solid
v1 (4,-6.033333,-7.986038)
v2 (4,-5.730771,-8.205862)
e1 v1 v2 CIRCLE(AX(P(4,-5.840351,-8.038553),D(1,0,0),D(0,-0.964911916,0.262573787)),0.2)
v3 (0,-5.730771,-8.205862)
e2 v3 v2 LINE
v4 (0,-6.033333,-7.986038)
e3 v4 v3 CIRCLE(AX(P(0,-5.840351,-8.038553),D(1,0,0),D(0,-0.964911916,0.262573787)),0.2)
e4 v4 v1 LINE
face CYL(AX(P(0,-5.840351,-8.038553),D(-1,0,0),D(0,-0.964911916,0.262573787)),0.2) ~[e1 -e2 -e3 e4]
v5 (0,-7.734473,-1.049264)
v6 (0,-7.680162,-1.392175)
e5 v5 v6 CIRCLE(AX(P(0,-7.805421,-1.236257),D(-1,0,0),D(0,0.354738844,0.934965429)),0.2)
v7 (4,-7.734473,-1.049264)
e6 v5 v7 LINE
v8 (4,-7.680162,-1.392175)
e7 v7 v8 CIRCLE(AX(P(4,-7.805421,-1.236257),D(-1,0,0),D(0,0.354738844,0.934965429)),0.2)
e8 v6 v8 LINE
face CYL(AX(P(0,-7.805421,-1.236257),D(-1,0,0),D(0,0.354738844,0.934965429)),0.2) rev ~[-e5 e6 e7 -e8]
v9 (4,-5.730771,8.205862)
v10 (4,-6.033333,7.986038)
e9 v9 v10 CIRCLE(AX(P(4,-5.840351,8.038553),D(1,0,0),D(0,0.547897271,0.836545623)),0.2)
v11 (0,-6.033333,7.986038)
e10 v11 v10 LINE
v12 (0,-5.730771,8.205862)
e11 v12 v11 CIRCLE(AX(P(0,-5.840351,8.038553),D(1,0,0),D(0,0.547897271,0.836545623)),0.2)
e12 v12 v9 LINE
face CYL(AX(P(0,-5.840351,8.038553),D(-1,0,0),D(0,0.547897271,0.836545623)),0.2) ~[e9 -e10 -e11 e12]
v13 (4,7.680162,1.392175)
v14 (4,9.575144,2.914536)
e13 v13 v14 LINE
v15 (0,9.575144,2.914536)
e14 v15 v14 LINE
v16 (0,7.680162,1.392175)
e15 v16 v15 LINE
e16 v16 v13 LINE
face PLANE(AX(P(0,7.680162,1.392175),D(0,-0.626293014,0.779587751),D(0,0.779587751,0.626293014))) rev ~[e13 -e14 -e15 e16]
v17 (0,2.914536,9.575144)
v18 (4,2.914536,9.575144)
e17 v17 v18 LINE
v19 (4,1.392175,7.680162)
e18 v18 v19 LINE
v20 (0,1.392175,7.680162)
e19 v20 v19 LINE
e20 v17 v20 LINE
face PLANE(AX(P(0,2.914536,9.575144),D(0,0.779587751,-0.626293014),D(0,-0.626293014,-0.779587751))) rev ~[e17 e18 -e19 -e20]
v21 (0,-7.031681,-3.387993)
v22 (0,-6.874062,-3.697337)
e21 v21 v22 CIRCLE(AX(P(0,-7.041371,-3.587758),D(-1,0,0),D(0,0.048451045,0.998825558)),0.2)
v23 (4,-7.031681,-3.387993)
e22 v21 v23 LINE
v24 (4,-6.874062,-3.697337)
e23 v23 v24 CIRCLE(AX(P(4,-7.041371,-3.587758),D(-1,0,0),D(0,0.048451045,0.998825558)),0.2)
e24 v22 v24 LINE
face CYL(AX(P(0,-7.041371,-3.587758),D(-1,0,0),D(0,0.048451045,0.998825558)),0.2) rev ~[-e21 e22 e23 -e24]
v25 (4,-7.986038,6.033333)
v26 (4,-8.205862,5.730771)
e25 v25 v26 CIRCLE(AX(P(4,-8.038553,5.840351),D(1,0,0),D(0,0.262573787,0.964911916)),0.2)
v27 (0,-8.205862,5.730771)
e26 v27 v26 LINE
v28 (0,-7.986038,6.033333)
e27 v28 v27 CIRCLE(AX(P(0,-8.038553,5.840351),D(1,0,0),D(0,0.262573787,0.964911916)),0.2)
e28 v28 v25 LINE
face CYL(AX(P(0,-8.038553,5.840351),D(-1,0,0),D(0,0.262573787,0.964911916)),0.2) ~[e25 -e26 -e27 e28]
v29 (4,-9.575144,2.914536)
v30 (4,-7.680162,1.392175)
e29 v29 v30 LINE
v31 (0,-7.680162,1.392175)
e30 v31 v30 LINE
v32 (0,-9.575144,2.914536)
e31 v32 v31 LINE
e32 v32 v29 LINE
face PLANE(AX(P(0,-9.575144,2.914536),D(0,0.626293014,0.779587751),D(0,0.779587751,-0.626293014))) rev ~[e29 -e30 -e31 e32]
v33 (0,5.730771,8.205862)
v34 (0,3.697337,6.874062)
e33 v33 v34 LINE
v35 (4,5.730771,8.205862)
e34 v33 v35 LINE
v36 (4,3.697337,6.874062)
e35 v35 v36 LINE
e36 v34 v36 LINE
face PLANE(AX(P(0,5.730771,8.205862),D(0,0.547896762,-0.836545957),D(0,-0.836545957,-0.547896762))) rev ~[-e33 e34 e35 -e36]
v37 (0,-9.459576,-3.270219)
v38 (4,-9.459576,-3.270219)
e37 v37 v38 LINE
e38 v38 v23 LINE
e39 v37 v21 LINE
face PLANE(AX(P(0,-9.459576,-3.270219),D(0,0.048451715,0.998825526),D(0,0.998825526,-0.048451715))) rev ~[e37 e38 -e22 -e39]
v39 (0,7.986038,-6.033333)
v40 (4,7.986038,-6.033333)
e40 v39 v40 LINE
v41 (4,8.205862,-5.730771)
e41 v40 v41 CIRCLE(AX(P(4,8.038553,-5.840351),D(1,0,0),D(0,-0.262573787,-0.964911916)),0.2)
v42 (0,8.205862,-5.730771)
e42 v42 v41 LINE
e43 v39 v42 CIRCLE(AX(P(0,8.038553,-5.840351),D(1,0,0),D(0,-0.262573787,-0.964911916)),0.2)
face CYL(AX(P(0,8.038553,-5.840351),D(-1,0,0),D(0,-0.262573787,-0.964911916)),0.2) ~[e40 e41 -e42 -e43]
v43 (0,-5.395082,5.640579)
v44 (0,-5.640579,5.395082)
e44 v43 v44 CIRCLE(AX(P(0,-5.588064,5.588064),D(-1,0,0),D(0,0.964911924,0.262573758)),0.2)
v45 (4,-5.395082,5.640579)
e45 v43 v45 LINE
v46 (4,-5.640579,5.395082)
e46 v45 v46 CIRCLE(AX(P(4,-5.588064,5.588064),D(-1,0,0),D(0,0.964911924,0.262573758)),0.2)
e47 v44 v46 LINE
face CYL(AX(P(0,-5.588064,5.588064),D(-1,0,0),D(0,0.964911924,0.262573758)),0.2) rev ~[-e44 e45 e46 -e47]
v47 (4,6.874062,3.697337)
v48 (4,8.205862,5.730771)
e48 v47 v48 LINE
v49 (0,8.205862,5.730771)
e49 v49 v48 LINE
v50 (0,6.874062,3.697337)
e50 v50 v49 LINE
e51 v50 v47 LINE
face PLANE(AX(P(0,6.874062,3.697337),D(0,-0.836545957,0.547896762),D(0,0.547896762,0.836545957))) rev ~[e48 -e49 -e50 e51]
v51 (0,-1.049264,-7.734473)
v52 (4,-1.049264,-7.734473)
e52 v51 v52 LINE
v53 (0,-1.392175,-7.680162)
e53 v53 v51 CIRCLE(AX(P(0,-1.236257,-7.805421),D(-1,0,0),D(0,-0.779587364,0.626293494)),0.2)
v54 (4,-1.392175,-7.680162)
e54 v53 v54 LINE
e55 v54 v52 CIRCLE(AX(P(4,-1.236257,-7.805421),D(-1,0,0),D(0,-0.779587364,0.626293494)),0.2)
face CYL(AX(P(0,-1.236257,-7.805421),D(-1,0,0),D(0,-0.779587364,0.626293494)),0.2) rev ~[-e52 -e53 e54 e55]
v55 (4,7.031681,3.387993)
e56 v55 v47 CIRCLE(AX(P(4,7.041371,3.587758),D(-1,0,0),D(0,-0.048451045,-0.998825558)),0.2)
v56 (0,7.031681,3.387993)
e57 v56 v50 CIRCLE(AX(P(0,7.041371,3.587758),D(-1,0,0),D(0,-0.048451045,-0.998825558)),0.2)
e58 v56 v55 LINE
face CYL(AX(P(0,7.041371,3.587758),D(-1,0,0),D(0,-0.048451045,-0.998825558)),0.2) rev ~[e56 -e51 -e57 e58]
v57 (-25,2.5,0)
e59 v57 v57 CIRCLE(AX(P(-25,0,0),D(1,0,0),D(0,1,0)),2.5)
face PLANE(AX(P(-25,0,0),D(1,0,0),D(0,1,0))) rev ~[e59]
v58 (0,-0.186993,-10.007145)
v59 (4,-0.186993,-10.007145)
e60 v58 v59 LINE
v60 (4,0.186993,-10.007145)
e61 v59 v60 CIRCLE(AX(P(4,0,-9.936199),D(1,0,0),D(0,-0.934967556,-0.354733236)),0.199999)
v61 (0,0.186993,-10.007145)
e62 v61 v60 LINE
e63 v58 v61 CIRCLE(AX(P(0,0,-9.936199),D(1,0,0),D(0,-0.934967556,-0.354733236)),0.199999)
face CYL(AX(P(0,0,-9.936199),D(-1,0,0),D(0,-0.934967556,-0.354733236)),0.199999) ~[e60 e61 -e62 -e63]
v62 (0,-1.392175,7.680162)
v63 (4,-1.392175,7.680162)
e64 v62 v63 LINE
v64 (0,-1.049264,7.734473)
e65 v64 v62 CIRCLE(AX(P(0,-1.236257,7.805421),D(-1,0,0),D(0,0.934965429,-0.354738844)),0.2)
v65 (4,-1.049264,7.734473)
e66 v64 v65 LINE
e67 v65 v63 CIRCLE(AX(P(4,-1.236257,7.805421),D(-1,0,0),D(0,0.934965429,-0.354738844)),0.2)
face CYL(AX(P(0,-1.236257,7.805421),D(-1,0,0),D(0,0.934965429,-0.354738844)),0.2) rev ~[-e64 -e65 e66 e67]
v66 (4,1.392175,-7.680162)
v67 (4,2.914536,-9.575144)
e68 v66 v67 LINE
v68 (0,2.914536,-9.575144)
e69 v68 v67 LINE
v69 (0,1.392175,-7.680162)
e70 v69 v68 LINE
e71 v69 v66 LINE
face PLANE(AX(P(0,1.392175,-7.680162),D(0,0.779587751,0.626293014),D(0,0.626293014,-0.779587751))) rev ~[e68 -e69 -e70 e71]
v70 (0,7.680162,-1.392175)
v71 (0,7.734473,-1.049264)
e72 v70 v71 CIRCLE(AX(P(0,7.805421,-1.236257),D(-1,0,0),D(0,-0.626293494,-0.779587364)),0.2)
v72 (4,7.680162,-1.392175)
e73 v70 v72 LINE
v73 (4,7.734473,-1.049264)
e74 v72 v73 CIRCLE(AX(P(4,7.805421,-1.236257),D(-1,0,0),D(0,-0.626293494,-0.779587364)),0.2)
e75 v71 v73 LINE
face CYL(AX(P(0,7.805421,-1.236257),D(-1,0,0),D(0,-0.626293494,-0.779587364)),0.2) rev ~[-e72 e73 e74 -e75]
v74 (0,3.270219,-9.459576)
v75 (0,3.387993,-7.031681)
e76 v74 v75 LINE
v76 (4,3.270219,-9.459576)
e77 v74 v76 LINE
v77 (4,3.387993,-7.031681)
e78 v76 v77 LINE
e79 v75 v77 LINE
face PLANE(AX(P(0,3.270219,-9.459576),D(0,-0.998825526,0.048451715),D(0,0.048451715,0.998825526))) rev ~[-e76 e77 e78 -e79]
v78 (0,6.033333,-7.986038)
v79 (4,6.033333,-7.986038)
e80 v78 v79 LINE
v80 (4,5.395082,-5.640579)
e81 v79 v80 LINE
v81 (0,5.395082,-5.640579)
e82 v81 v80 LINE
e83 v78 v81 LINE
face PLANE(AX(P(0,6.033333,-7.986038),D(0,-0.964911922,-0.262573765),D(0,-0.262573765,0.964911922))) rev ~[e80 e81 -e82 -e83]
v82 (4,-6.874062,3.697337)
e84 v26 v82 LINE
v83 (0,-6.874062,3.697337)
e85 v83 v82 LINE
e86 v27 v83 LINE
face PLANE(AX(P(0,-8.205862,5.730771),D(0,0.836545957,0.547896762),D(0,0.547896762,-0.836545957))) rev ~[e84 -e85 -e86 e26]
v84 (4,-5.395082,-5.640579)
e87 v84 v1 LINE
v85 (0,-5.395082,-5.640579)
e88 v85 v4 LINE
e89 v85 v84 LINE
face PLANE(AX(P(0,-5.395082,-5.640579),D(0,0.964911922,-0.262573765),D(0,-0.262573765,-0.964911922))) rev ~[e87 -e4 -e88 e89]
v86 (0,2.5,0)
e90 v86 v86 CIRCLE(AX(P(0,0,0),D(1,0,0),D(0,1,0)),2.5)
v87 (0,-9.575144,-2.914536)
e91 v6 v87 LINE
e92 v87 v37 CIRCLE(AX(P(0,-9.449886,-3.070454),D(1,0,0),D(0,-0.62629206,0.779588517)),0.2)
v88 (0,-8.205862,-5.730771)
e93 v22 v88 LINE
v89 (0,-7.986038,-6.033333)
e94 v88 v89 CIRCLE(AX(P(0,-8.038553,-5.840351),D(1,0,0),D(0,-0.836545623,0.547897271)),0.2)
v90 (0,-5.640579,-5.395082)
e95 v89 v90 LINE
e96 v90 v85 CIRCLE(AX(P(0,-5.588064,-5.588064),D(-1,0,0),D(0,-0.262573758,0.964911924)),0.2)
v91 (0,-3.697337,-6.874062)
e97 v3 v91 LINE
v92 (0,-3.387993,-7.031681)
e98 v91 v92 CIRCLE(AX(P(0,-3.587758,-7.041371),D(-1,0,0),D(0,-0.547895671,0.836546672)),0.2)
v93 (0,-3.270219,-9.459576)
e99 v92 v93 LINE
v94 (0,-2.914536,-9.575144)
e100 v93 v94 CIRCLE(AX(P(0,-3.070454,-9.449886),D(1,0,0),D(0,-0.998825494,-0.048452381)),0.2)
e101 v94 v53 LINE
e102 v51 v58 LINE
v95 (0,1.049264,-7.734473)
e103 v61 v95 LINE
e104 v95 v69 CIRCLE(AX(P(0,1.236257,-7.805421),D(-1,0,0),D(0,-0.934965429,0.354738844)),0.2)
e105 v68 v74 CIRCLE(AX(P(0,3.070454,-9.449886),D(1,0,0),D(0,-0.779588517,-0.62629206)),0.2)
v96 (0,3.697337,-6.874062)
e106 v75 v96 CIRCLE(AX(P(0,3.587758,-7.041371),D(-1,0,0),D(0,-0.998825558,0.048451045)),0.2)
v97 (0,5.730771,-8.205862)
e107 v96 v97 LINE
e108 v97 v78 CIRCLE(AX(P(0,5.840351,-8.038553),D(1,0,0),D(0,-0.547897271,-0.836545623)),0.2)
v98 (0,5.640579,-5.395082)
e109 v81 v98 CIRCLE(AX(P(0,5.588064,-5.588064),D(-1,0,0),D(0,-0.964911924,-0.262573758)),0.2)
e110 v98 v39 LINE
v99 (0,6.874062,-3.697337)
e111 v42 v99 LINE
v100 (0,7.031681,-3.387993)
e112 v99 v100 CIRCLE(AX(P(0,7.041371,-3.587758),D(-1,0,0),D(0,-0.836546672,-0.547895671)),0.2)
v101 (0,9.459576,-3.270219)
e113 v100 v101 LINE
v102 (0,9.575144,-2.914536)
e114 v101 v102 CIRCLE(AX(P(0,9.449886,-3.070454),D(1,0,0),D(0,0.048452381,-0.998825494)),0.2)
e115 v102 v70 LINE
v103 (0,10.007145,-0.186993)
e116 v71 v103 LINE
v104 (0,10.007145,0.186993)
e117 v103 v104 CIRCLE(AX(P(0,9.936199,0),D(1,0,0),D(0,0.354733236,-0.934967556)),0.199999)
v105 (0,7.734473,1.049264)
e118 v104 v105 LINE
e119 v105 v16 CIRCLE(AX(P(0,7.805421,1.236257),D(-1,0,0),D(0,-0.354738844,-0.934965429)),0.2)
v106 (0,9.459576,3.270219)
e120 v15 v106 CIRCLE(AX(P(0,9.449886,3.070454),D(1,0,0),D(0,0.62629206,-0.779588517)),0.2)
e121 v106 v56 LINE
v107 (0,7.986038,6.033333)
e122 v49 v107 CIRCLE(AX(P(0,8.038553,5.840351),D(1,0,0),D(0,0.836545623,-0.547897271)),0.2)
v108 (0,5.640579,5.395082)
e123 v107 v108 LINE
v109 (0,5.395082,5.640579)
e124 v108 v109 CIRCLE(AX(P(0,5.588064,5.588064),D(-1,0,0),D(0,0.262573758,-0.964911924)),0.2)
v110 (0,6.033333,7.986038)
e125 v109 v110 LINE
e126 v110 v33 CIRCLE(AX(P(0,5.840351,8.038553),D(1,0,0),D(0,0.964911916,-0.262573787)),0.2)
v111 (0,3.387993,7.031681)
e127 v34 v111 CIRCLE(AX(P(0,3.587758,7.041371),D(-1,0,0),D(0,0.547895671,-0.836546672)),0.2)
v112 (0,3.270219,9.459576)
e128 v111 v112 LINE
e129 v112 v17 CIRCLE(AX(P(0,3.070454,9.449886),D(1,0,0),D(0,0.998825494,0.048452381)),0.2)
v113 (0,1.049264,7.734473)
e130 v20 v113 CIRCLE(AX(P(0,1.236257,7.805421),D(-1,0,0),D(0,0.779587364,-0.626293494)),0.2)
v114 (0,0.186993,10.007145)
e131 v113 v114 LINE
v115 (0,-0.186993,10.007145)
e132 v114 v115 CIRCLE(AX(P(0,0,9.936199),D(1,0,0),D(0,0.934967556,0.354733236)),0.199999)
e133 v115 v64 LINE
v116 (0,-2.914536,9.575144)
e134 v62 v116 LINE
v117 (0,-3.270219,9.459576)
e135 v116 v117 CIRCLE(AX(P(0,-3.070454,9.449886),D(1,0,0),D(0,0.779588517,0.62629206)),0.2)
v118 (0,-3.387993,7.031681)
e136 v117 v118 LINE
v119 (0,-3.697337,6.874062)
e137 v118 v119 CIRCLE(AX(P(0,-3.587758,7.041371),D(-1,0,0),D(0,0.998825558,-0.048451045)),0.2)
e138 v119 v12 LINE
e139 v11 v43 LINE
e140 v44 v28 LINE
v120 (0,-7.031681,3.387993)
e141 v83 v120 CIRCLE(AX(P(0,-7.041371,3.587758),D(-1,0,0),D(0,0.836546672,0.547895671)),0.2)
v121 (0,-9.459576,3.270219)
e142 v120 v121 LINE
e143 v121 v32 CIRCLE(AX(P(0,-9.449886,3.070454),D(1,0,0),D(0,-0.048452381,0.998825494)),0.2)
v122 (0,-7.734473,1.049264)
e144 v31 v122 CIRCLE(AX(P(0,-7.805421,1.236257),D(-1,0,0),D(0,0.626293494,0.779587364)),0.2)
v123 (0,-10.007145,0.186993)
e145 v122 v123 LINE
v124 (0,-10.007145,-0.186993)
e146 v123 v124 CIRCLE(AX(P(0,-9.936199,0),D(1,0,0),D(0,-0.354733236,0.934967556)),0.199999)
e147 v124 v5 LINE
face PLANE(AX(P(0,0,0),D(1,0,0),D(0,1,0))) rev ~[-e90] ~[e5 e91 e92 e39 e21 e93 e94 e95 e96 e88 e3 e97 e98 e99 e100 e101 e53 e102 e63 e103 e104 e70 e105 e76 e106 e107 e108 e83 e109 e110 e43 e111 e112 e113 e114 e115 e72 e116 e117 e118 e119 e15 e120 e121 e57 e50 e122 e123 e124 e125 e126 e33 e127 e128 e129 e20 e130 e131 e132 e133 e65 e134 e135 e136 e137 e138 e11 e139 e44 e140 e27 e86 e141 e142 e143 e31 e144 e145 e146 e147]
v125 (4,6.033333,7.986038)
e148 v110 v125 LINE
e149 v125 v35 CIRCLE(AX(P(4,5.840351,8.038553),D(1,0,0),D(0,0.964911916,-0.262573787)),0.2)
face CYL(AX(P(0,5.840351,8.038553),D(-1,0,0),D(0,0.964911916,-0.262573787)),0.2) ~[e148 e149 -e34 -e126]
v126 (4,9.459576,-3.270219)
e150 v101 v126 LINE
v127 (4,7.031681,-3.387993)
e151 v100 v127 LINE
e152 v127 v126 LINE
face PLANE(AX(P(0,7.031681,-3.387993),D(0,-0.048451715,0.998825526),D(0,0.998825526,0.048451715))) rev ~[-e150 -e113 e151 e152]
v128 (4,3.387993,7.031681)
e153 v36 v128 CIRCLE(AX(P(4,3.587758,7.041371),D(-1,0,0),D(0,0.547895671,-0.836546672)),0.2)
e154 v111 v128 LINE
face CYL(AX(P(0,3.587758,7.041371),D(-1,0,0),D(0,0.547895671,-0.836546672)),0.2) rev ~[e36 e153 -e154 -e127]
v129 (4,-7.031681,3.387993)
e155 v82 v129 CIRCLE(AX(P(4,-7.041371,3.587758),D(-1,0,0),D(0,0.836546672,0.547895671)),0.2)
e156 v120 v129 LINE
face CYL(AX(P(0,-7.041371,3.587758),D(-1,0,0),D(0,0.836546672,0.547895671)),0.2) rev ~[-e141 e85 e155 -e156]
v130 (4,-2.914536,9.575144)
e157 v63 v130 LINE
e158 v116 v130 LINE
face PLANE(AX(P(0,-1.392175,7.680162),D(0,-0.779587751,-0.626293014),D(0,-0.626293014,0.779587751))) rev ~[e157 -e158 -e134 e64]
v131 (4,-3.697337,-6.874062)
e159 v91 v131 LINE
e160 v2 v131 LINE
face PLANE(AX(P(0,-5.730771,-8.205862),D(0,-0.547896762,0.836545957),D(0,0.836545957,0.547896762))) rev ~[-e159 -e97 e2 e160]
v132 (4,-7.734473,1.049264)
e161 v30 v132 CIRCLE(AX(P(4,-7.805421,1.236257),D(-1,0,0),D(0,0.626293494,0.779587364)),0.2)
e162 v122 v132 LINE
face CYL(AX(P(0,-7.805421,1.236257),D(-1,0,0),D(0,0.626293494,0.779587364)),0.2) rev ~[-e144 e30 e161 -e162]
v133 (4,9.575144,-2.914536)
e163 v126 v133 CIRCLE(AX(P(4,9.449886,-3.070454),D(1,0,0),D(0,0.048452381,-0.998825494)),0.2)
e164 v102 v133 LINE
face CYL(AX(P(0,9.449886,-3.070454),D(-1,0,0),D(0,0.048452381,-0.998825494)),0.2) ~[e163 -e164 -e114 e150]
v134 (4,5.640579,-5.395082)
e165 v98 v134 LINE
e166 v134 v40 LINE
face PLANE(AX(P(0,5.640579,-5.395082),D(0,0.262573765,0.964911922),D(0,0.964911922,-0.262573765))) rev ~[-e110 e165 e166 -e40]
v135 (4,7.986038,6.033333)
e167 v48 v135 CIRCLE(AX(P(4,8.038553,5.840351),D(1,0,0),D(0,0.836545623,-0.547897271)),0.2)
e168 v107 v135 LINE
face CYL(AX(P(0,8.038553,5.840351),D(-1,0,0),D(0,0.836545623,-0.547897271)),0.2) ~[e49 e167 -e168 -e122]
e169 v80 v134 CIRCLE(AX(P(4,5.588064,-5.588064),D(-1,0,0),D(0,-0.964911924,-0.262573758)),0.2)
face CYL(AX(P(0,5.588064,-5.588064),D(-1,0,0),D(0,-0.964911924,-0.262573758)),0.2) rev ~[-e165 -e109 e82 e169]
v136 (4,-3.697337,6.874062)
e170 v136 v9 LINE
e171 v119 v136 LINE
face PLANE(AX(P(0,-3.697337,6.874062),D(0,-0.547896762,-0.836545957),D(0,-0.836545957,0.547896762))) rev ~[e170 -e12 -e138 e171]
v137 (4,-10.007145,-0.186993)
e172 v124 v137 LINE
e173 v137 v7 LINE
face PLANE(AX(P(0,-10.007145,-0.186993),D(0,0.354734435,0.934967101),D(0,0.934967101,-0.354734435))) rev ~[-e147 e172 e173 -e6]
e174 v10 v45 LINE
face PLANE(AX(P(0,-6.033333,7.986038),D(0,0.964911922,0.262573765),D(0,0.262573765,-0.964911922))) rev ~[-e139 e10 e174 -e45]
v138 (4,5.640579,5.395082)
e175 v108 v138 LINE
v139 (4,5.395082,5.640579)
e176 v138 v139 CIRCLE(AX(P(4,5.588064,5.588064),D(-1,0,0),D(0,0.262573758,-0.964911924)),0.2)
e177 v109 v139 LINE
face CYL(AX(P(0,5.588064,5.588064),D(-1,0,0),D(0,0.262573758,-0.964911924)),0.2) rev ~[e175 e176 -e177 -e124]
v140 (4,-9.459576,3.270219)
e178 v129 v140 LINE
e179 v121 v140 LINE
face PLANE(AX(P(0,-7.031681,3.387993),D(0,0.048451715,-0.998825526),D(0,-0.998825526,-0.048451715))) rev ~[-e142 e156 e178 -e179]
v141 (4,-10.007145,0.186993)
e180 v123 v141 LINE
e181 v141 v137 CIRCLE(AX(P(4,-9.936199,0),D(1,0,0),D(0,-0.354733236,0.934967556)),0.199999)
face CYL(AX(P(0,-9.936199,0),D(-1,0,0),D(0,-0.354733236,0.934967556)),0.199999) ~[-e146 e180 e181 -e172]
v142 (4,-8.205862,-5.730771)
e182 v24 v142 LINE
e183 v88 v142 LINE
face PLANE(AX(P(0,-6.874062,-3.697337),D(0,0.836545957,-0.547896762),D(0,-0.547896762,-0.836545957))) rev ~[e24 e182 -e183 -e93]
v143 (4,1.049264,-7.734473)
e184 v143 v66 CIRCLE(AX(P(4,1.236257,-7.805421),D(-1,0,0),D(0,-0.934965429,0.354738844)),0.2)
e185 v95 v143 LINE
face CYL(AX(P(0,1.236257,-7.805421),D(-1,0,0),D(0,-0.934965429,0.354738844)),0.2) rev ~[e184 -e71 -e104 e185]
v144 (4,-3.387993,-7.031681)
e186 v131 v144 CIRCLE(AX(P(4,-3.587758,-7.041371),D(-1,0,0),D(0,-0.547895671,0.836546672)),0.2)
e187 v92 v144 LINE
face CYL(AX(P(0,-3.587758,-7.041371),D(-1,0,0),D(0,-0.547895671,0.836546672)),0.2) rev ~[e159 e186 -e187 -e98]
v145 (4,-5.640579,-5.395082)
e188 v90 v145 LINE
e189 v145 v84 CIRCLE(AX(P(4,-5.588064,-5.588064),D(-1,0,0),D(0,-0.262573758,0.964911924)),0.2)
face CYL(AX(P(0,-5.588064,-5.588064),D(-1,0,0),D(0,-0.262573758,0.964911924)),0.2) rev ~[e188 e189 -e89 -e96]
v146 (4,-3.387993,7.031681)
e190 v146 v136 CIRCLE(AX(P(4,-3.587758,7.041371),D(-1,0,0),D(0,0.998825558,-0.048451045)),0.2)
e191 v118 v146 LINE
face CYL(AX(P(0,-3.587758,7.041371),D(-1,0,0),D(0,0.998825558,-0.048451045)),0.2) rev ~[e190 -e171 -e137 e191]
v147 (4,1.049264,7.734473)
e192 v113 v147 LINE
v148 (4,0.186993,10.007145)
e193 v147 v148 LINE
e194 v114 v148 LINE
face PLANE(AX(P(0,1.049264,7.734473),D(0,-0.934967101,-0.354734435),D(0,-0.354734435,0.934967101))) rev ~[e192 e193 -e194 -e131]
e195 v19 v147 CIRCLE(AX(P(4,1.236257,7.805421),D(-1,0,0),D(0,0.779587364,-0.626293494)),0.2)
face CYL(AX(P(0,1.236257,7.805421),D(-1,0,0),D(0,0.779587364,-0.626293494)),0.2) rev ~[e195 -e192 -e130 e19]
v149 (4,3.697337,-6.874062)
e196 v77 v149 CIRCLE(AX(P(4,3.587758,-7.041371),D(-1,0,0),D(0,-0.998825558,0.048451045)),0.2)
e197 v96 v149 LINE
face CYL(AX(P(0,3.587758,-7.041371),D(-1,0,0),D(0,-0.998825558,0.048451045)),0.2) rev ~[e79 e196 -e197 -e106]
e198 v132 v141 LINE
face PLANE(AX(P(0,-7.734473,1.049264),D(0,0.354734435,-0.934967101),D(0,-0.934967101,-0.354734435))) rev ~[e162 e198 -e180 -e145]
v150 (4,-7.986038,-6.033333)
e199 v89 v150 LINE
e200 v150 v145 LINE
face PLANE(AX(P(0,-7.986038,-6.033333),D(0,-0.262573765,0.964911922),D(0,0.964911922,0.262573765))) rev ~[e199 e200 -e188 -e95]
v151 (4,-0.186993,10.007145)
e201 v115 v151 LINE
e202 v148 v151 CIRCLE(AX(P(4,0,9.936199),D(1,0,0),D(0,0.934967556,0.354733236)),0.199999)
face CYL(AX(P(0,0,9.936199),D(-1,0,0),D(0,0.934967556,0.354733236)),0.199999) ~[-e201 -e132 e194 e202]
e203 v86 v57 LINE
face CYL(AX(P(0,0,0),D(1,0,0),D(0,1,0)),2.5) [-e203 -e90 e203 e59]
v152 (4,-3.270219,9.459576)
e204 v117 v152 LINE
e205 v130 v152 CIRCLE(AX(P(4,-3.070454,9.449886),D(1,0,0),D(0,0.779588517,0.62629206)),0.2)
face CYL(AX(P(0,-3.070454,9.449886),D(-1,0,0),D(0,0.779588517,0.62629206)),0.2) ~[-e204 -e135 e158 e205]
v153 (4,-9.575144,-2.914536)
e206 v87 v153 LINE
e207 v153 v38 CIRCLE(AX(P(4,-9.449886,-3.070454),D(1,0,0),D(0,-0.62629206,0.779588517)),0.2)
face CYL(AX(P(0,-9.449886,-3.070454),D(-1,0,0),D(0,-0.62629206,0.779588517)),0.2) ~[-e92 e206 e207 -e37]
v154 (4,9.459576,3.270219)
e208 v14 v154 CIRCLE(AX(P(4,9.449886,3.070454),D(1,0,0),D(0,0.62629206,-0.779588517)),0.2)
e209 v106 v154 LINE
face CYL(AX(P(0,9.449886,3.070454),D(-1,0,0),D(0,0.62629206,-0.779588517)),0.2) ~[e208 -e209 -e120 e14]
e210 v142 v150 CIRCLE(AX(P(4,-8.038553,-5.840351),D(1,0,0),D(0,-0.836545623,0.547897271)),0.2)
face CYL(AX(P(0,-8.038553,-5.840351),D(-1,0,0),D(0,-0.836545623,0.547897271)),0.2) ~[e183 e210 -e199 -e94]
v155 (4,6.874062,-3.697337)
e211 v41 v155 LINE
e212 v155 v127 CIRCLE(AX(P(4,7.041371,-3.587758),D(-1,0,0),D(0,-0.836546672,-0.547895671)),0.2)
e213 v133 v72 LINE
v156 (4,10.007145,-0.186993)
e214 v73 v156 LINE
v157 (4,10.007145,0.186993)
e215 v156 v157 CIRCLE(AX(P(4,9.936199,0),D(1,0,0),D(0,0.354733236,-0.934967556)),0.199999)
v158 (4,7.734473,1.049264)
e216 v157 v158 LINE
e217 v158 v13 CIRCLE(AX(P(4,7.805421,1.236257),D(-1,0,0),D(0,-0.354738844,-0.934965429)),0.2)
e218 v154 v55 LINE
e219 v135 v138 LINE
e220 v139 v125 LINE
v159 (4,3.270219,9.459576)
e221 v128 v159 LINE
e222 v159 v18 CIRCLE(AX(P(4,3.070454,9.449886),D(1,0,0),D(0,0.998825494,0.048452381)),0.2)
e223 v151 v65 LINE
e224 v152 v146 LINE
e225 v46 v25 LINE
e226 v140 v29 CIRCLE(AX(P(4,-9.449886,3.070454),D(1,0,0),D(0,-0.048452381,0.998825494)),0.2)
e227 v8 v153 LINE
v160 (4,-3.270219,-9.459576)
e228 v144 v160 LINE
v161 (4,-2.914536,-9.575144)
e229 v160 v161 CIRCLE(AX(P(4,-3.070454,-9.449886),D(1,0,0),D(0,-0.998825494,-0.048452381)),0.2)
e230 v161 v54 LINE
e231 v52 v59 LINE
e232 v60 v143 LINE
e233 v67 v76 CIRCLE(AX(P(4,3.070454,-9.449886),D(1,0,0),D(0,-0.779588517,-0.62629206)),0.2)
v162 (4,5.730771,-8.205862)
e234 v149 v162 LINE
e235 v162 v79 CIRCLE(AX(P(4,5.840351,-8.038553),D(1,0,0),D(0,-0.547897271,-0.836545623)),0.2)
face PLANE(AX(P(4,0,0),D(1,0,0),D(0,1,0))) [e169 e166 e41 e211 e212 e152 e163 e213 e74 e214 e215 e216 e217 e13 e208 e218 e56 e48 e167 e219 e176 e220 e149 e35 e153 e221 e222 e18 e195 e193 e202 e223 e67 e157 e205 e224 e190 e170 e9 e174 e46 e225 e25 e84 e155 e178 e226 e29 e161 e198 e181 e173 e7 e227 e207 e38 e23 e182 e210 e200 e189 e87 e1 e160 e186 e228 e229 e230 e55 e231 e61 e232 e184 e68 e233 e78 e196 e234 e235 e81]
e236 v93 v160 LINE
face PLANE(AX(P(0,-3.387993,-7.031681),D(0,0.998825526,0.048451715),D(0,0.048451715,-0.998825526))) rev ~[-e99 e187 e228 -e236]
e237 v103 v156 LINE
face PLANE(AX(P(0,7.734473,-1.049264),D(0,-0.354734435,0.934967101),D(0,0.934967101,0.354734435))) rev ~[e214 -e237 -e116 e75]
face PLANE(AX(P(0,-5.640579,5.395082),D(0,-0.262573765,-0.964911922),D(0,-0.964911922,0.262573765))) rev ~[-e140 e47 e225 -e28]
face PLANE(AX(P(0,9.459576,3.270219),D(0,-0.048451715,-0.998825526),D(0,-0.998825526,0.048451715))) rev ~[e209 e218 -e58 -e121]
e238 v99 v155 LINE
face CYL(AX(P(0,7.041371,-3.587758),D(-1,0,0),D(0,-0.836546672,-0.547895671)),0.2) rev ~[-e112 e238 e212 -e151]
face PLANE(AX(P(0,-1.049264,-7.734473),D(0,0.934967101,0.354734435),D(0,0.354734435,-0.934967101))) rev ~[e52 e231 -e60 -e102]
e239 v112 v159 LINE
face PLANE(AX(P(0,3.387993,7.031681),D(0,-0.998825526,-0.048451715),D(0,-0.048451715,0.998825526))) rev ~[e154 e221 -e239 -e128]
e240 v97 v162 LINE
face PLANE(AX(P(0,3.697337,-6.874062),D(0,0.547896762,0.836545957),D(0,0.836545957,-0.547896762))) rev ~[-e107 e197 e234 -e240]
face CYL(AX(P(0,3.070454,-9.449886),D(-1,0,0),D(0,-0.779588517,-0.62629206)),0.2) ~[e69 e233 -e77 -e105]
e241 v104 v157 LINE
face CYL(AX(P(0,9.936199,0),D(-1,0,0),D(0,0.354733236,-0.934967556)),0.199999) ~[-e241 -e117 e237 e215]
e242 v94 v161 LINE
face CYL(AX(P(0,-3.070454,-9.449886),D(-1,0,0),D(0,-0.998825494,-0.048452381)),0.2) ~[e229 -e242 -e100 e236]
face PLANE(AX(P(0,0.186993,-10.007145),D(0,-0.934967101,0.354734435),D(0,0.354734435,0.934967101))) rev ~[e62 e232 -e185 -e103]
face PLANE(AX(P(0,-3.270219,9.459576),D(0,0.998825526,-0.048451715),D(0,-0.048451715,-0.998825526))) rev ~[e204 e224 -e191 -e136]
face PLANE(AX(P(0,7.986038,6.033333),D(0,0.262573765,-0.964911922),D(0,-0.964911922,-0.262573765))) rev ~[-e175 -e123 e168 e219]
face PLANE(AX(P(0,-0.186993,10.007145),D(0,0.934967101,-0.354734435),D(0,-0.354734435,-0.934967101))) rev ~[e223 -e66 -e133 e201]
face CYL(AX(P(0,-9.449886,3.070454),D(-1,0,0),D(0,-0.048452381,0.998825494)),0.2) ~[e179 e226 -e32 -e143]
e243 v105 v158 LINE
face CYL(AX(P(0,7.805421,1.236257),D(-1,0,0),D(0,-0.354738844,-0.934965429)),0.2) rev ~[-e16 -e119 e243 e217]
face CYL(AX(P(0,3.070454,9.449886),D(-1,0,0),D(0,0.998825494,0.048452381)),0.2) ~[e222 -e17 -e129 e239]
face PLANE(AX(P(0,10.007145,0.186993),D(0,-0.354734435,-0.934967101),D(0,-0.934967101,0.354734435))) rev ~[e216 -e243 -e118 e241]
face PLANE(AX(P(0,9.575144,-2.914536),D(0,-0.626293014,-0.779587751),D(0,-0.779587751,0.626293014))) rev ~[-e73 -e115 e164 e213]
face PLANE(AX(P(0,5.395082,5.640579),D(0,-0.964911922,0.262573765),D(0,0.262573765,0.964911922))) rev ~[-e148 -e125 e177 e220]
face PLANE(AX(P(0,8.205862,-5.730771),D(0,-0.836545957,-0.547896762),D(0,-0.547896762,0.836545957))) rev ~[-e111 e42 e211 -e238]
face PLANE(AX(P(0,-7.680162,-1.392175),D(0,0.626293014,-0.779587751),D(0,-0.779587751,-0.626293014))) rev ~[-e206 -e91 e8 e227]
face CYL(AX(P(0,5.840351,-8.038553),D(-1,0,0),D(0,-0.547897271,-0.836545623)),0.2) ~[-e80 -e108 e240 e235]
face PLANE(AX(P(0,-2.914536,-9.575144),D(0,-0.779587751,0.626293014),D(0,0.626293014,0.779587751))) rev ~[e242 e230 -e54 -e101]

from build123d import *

# Parameters (mm, degrees)
F1_DEPTH = 4
F2_R     = 2.5
F3_DEPTH = 25


with BuildPart() as f1:
    # F0 (on Right) → F1 (new body)
    with BuildSketch(Plane.YZ):
        with BuildLine():
            ThreePointArc((0.186993, 10.007145), (0, 10.136198), (-0.186993, 10.007145))
            Line((-0.186993, 10.007145), (-1.049264, 7.734473))
            ThreePointArc((-1.049264, 7.734473), (-1.20497, 7.607883), (-1.392175, 7.680162))
            Line((-1.392175, 7.680162), (-2.914536, 9.575144))
            ThreePointArc((-2.914536, 9.575144), (-3.132257, 9.640097), (-3.270219, 9.459576))
            Line((-3.270219, 9.459576), (-3.387993, 7.031681))
            ThreePointArc((-3.387993, 7.031681), (-3.49696, 6.86317), (-3.697337, 6.874062))
            Line((-3.697337, 6.874062), (-5.730771, 8.205862))
            ThreePointArc((-5.730771, 8.205862), (-5.957908, 8.200356), (-6.033333, 7.986038))
            Line((-6.033333, 7.986038), (-5.395082, 5.640579))
            ThreePointArc((-5.395082, 5.640579), (-5.446643, 5.446643), (-5.640579, 5.395082))
            Line((-5.640579, 5.395082), (-7.986038, 6.033333))
            ThreePointArc((-7.986038, 6.033333), (-8.200356, 5.957908), (-8.205862, 5.730771))
            Line((-8.205862, 5.730771), (-6.874062, 3.697337))
            ThreePointArc((-6.874062, 3.697337), (-6.86317, 3.49696), (-7.031681, 3.387993))
            Line((-7.031681, 3.387993), (-9.459576, 3.270219))
            ThreePointArc((-9.459576, 3.270219), (-9.640097, 3.132257), (-9.575144, 2.914536))
            Line((-9.575144, 2.914536), (-7.680162, 1.392175))
            ThreePointArc((-7.680162, 1.392175), (-7.607883, 1.20497), (-7.734473, 1.049264))
            Line((-7.734473, 1.049264), (-10.007145, 0.186993))
            ThreePointArc((-10.007145, 0.186993), (-10.136198, 0), (-10.007145, -0.186993))
            Line((-10.007145, -0.186993), (-7.734473, -1.049264))
            ThreePointArc((-7.734473, -1.049264), (-7.607883, -1.20497), (-7.680162, -1.392175))
            Line((-7.680162, -1.392175), (-9.575144, -2.914536))
            ThreePointArc((-9.575144, -2.914536), (-9.640097, -3.132257), (-9.459576, -3.270219))
            Line((-9.459576, -3.270219), (-7.031681, -3.387993))
            ThreePointArc((-7.031681, -3.387993), (-6.86317, -3.49696), (-6.874062, -3.697337))
            Line((-6.874062, -3.697337), (-8.205862, -5.730771))
            ThreePointArc((-8.205862, -5.730771), (-8.200356, -5.957908), (-7.986038, -6.033333))
            Line((-7.986038, -6.033333), (-5.640579, -5.395082))
            ThreePointArc((-5.640579, -5.395082), (-5.446643, -5.446643), (-5.395082, -5.640579))
            Line((-5.395082, -5.640579), (-6.033333, -7.986038))
            ThreePointArc((-6.033333, -7.986038), (-5.957908, -8.200356), (-5.730771, -8.205862))
            Line((-5.730771, -8.205862), (-3.697337, -6.874062))
            ThreePointArc((-3.697337, -6.874062), (-3.49696, -6.86317), (-3.387993, -7.031681))
            Line((-3.387993, -7.031681), (-3.270219, -9.459576))
            ThreePointArc((-3.270219, -9.459576), (-3.132257, -9.640097), (-2.914536, -9.575144))
            Line((-2.914536, -9.575144), (-1.392175, -7.680162))
            ThreePointArc((-1.392175, -7.680162), (-1.20497, -7.607883), (-1.049264, -7.734473))
            Line((-1.049264, -7.734473), (-0.186993, -10.007145))
            ThreePointArc((-0.186993, -10.007145), (0, -10.136198), (0.186993, -10.007145))
            Line((0.186993, -10.007145), (1.049264, -7.734473))
            ThreePointArc((1.049264, -7.734473), (1.20497, -7.607883), (1.392175, -7.680162))
            Line((1.392175, -7.680162), (2.914536, -9.575144))
            ThreePointArc((2.914536, -9.575144), (3.132257, -9.640097), (3.270219, -9.459576))
            Line((3.270219, -9.459576), (3.387993, -7.031681))
            ThreePointArc((3.387993, -7.031681), (3.49696, -6.86317), (3.697337, -6.874062))
            Line((3.697337, -6.874062), (5.730771, -8.205862))
            ThreePointArc((5.730771, -8.205862), (5.957908, -8.200356), (6.033333, -7.986038))
            Line((6.033333, -7.986038), (5.395082, -5.640579))
            ThreePointArc((5.395082, -5.640579), (5.446643, -5.446643), (5.640579, -5.395082))
            Line((5.640579, -5.395082), (7.986038, -6.033333))
            ThreePointArc((7.986038, -6.033333), (8.200356, -5.957908), (8.205862, -5.730771))
            Line((8.205862, -5.730771), (6.874062, -3.697337))
            ThreePointArc((6.874062, -3.697337), (6.86317, -3.49696), (7.031681, -3.387993))
            Line((7.031681, -3.387993), (9.459576, -3.270219))
            ThreePointArc((9.459576, -3.270219), (9.640097, -3.132257), (9.575144, -2.914536))
            Line((9.575144, -2.914536), (7.680162, -1.392175))
            ThreePointArc((7.680162, -1.392175), (7.607883, -1.20497), (7.734473, -1.049264))
            Line((7.734473, -1.049264), (10.007145, -0.186993))
            ThreePointArc((10.007145, -0.186993), (10.136198, 0), (10.007145, 0.186993))
            Line((10.007145, 0.186993), (7.734473, 1.049264))
            ThreePointArc((7.734473, 1.049264), (7.607883, 1.20497), (7.680162, 1.392175))
            Line((7.680162, 1.392175), (9.575144, 2.914536))
            ThreePointArc((9.575144, 2.914536), (9.640097, 3.132257), (9.459576, 3.270219))
            Line((9.459576, 3.270219), (7.031681, 3.387993))
            ThreePointArc((7.031681, 3.387993), (6.86317, 3.49696), (6.874062, 3.697337))
            Line((6.874062, 3.697337), (8.205862, 5.730771))
            ThreePointArc((8.205862, 5.730771), (8.200356, 5.957908), (7.986038, 6.033333))
            Line((7.986038, 6.033333), (5.640579, 5.395082))
            ThreePointArc((5.640579, 5.395082), (5.446643, 5.446643), (5.395082, 5.640579))
            Line((5.395082, 5.640579), (6.033333, 7.986038))
            ThreePointArc((6.033333, 7.986038), (5.957908, 8.200356), (5.730771, 8.205862))
            Line((5.730771, 8.205862), (3.697337, 6.874062))
            ThreePointArc((3.697337, 6.874062), (3.49696, 6.86317), (3.387993, 7.031681))
            Line((3.387993, 7.031681), (3.270219, 9.459576))
            ThreePointArc((3.270219, 9.459576), (3.132257, 9.640097), (2.914536, 9.575144))
            Line((2.914536, 9.575144), (1.392175, 7.680162))
            ThreePointArc((1.392175, 7.680162), (1.20497, 7.607883), (1.049264, 7.734473))
            Line((1.049264, 7.734473), (0.186993, 10.007145))
        make_face()
    extrude(amount=F1_DEPTH)

    # F2 (on Right) → F3 (join)
    with BuildSketch(Plane.YZ):
        Circle(F2_R)
    extrude(amount=-F3_DEPTH)


solid = f1.part
